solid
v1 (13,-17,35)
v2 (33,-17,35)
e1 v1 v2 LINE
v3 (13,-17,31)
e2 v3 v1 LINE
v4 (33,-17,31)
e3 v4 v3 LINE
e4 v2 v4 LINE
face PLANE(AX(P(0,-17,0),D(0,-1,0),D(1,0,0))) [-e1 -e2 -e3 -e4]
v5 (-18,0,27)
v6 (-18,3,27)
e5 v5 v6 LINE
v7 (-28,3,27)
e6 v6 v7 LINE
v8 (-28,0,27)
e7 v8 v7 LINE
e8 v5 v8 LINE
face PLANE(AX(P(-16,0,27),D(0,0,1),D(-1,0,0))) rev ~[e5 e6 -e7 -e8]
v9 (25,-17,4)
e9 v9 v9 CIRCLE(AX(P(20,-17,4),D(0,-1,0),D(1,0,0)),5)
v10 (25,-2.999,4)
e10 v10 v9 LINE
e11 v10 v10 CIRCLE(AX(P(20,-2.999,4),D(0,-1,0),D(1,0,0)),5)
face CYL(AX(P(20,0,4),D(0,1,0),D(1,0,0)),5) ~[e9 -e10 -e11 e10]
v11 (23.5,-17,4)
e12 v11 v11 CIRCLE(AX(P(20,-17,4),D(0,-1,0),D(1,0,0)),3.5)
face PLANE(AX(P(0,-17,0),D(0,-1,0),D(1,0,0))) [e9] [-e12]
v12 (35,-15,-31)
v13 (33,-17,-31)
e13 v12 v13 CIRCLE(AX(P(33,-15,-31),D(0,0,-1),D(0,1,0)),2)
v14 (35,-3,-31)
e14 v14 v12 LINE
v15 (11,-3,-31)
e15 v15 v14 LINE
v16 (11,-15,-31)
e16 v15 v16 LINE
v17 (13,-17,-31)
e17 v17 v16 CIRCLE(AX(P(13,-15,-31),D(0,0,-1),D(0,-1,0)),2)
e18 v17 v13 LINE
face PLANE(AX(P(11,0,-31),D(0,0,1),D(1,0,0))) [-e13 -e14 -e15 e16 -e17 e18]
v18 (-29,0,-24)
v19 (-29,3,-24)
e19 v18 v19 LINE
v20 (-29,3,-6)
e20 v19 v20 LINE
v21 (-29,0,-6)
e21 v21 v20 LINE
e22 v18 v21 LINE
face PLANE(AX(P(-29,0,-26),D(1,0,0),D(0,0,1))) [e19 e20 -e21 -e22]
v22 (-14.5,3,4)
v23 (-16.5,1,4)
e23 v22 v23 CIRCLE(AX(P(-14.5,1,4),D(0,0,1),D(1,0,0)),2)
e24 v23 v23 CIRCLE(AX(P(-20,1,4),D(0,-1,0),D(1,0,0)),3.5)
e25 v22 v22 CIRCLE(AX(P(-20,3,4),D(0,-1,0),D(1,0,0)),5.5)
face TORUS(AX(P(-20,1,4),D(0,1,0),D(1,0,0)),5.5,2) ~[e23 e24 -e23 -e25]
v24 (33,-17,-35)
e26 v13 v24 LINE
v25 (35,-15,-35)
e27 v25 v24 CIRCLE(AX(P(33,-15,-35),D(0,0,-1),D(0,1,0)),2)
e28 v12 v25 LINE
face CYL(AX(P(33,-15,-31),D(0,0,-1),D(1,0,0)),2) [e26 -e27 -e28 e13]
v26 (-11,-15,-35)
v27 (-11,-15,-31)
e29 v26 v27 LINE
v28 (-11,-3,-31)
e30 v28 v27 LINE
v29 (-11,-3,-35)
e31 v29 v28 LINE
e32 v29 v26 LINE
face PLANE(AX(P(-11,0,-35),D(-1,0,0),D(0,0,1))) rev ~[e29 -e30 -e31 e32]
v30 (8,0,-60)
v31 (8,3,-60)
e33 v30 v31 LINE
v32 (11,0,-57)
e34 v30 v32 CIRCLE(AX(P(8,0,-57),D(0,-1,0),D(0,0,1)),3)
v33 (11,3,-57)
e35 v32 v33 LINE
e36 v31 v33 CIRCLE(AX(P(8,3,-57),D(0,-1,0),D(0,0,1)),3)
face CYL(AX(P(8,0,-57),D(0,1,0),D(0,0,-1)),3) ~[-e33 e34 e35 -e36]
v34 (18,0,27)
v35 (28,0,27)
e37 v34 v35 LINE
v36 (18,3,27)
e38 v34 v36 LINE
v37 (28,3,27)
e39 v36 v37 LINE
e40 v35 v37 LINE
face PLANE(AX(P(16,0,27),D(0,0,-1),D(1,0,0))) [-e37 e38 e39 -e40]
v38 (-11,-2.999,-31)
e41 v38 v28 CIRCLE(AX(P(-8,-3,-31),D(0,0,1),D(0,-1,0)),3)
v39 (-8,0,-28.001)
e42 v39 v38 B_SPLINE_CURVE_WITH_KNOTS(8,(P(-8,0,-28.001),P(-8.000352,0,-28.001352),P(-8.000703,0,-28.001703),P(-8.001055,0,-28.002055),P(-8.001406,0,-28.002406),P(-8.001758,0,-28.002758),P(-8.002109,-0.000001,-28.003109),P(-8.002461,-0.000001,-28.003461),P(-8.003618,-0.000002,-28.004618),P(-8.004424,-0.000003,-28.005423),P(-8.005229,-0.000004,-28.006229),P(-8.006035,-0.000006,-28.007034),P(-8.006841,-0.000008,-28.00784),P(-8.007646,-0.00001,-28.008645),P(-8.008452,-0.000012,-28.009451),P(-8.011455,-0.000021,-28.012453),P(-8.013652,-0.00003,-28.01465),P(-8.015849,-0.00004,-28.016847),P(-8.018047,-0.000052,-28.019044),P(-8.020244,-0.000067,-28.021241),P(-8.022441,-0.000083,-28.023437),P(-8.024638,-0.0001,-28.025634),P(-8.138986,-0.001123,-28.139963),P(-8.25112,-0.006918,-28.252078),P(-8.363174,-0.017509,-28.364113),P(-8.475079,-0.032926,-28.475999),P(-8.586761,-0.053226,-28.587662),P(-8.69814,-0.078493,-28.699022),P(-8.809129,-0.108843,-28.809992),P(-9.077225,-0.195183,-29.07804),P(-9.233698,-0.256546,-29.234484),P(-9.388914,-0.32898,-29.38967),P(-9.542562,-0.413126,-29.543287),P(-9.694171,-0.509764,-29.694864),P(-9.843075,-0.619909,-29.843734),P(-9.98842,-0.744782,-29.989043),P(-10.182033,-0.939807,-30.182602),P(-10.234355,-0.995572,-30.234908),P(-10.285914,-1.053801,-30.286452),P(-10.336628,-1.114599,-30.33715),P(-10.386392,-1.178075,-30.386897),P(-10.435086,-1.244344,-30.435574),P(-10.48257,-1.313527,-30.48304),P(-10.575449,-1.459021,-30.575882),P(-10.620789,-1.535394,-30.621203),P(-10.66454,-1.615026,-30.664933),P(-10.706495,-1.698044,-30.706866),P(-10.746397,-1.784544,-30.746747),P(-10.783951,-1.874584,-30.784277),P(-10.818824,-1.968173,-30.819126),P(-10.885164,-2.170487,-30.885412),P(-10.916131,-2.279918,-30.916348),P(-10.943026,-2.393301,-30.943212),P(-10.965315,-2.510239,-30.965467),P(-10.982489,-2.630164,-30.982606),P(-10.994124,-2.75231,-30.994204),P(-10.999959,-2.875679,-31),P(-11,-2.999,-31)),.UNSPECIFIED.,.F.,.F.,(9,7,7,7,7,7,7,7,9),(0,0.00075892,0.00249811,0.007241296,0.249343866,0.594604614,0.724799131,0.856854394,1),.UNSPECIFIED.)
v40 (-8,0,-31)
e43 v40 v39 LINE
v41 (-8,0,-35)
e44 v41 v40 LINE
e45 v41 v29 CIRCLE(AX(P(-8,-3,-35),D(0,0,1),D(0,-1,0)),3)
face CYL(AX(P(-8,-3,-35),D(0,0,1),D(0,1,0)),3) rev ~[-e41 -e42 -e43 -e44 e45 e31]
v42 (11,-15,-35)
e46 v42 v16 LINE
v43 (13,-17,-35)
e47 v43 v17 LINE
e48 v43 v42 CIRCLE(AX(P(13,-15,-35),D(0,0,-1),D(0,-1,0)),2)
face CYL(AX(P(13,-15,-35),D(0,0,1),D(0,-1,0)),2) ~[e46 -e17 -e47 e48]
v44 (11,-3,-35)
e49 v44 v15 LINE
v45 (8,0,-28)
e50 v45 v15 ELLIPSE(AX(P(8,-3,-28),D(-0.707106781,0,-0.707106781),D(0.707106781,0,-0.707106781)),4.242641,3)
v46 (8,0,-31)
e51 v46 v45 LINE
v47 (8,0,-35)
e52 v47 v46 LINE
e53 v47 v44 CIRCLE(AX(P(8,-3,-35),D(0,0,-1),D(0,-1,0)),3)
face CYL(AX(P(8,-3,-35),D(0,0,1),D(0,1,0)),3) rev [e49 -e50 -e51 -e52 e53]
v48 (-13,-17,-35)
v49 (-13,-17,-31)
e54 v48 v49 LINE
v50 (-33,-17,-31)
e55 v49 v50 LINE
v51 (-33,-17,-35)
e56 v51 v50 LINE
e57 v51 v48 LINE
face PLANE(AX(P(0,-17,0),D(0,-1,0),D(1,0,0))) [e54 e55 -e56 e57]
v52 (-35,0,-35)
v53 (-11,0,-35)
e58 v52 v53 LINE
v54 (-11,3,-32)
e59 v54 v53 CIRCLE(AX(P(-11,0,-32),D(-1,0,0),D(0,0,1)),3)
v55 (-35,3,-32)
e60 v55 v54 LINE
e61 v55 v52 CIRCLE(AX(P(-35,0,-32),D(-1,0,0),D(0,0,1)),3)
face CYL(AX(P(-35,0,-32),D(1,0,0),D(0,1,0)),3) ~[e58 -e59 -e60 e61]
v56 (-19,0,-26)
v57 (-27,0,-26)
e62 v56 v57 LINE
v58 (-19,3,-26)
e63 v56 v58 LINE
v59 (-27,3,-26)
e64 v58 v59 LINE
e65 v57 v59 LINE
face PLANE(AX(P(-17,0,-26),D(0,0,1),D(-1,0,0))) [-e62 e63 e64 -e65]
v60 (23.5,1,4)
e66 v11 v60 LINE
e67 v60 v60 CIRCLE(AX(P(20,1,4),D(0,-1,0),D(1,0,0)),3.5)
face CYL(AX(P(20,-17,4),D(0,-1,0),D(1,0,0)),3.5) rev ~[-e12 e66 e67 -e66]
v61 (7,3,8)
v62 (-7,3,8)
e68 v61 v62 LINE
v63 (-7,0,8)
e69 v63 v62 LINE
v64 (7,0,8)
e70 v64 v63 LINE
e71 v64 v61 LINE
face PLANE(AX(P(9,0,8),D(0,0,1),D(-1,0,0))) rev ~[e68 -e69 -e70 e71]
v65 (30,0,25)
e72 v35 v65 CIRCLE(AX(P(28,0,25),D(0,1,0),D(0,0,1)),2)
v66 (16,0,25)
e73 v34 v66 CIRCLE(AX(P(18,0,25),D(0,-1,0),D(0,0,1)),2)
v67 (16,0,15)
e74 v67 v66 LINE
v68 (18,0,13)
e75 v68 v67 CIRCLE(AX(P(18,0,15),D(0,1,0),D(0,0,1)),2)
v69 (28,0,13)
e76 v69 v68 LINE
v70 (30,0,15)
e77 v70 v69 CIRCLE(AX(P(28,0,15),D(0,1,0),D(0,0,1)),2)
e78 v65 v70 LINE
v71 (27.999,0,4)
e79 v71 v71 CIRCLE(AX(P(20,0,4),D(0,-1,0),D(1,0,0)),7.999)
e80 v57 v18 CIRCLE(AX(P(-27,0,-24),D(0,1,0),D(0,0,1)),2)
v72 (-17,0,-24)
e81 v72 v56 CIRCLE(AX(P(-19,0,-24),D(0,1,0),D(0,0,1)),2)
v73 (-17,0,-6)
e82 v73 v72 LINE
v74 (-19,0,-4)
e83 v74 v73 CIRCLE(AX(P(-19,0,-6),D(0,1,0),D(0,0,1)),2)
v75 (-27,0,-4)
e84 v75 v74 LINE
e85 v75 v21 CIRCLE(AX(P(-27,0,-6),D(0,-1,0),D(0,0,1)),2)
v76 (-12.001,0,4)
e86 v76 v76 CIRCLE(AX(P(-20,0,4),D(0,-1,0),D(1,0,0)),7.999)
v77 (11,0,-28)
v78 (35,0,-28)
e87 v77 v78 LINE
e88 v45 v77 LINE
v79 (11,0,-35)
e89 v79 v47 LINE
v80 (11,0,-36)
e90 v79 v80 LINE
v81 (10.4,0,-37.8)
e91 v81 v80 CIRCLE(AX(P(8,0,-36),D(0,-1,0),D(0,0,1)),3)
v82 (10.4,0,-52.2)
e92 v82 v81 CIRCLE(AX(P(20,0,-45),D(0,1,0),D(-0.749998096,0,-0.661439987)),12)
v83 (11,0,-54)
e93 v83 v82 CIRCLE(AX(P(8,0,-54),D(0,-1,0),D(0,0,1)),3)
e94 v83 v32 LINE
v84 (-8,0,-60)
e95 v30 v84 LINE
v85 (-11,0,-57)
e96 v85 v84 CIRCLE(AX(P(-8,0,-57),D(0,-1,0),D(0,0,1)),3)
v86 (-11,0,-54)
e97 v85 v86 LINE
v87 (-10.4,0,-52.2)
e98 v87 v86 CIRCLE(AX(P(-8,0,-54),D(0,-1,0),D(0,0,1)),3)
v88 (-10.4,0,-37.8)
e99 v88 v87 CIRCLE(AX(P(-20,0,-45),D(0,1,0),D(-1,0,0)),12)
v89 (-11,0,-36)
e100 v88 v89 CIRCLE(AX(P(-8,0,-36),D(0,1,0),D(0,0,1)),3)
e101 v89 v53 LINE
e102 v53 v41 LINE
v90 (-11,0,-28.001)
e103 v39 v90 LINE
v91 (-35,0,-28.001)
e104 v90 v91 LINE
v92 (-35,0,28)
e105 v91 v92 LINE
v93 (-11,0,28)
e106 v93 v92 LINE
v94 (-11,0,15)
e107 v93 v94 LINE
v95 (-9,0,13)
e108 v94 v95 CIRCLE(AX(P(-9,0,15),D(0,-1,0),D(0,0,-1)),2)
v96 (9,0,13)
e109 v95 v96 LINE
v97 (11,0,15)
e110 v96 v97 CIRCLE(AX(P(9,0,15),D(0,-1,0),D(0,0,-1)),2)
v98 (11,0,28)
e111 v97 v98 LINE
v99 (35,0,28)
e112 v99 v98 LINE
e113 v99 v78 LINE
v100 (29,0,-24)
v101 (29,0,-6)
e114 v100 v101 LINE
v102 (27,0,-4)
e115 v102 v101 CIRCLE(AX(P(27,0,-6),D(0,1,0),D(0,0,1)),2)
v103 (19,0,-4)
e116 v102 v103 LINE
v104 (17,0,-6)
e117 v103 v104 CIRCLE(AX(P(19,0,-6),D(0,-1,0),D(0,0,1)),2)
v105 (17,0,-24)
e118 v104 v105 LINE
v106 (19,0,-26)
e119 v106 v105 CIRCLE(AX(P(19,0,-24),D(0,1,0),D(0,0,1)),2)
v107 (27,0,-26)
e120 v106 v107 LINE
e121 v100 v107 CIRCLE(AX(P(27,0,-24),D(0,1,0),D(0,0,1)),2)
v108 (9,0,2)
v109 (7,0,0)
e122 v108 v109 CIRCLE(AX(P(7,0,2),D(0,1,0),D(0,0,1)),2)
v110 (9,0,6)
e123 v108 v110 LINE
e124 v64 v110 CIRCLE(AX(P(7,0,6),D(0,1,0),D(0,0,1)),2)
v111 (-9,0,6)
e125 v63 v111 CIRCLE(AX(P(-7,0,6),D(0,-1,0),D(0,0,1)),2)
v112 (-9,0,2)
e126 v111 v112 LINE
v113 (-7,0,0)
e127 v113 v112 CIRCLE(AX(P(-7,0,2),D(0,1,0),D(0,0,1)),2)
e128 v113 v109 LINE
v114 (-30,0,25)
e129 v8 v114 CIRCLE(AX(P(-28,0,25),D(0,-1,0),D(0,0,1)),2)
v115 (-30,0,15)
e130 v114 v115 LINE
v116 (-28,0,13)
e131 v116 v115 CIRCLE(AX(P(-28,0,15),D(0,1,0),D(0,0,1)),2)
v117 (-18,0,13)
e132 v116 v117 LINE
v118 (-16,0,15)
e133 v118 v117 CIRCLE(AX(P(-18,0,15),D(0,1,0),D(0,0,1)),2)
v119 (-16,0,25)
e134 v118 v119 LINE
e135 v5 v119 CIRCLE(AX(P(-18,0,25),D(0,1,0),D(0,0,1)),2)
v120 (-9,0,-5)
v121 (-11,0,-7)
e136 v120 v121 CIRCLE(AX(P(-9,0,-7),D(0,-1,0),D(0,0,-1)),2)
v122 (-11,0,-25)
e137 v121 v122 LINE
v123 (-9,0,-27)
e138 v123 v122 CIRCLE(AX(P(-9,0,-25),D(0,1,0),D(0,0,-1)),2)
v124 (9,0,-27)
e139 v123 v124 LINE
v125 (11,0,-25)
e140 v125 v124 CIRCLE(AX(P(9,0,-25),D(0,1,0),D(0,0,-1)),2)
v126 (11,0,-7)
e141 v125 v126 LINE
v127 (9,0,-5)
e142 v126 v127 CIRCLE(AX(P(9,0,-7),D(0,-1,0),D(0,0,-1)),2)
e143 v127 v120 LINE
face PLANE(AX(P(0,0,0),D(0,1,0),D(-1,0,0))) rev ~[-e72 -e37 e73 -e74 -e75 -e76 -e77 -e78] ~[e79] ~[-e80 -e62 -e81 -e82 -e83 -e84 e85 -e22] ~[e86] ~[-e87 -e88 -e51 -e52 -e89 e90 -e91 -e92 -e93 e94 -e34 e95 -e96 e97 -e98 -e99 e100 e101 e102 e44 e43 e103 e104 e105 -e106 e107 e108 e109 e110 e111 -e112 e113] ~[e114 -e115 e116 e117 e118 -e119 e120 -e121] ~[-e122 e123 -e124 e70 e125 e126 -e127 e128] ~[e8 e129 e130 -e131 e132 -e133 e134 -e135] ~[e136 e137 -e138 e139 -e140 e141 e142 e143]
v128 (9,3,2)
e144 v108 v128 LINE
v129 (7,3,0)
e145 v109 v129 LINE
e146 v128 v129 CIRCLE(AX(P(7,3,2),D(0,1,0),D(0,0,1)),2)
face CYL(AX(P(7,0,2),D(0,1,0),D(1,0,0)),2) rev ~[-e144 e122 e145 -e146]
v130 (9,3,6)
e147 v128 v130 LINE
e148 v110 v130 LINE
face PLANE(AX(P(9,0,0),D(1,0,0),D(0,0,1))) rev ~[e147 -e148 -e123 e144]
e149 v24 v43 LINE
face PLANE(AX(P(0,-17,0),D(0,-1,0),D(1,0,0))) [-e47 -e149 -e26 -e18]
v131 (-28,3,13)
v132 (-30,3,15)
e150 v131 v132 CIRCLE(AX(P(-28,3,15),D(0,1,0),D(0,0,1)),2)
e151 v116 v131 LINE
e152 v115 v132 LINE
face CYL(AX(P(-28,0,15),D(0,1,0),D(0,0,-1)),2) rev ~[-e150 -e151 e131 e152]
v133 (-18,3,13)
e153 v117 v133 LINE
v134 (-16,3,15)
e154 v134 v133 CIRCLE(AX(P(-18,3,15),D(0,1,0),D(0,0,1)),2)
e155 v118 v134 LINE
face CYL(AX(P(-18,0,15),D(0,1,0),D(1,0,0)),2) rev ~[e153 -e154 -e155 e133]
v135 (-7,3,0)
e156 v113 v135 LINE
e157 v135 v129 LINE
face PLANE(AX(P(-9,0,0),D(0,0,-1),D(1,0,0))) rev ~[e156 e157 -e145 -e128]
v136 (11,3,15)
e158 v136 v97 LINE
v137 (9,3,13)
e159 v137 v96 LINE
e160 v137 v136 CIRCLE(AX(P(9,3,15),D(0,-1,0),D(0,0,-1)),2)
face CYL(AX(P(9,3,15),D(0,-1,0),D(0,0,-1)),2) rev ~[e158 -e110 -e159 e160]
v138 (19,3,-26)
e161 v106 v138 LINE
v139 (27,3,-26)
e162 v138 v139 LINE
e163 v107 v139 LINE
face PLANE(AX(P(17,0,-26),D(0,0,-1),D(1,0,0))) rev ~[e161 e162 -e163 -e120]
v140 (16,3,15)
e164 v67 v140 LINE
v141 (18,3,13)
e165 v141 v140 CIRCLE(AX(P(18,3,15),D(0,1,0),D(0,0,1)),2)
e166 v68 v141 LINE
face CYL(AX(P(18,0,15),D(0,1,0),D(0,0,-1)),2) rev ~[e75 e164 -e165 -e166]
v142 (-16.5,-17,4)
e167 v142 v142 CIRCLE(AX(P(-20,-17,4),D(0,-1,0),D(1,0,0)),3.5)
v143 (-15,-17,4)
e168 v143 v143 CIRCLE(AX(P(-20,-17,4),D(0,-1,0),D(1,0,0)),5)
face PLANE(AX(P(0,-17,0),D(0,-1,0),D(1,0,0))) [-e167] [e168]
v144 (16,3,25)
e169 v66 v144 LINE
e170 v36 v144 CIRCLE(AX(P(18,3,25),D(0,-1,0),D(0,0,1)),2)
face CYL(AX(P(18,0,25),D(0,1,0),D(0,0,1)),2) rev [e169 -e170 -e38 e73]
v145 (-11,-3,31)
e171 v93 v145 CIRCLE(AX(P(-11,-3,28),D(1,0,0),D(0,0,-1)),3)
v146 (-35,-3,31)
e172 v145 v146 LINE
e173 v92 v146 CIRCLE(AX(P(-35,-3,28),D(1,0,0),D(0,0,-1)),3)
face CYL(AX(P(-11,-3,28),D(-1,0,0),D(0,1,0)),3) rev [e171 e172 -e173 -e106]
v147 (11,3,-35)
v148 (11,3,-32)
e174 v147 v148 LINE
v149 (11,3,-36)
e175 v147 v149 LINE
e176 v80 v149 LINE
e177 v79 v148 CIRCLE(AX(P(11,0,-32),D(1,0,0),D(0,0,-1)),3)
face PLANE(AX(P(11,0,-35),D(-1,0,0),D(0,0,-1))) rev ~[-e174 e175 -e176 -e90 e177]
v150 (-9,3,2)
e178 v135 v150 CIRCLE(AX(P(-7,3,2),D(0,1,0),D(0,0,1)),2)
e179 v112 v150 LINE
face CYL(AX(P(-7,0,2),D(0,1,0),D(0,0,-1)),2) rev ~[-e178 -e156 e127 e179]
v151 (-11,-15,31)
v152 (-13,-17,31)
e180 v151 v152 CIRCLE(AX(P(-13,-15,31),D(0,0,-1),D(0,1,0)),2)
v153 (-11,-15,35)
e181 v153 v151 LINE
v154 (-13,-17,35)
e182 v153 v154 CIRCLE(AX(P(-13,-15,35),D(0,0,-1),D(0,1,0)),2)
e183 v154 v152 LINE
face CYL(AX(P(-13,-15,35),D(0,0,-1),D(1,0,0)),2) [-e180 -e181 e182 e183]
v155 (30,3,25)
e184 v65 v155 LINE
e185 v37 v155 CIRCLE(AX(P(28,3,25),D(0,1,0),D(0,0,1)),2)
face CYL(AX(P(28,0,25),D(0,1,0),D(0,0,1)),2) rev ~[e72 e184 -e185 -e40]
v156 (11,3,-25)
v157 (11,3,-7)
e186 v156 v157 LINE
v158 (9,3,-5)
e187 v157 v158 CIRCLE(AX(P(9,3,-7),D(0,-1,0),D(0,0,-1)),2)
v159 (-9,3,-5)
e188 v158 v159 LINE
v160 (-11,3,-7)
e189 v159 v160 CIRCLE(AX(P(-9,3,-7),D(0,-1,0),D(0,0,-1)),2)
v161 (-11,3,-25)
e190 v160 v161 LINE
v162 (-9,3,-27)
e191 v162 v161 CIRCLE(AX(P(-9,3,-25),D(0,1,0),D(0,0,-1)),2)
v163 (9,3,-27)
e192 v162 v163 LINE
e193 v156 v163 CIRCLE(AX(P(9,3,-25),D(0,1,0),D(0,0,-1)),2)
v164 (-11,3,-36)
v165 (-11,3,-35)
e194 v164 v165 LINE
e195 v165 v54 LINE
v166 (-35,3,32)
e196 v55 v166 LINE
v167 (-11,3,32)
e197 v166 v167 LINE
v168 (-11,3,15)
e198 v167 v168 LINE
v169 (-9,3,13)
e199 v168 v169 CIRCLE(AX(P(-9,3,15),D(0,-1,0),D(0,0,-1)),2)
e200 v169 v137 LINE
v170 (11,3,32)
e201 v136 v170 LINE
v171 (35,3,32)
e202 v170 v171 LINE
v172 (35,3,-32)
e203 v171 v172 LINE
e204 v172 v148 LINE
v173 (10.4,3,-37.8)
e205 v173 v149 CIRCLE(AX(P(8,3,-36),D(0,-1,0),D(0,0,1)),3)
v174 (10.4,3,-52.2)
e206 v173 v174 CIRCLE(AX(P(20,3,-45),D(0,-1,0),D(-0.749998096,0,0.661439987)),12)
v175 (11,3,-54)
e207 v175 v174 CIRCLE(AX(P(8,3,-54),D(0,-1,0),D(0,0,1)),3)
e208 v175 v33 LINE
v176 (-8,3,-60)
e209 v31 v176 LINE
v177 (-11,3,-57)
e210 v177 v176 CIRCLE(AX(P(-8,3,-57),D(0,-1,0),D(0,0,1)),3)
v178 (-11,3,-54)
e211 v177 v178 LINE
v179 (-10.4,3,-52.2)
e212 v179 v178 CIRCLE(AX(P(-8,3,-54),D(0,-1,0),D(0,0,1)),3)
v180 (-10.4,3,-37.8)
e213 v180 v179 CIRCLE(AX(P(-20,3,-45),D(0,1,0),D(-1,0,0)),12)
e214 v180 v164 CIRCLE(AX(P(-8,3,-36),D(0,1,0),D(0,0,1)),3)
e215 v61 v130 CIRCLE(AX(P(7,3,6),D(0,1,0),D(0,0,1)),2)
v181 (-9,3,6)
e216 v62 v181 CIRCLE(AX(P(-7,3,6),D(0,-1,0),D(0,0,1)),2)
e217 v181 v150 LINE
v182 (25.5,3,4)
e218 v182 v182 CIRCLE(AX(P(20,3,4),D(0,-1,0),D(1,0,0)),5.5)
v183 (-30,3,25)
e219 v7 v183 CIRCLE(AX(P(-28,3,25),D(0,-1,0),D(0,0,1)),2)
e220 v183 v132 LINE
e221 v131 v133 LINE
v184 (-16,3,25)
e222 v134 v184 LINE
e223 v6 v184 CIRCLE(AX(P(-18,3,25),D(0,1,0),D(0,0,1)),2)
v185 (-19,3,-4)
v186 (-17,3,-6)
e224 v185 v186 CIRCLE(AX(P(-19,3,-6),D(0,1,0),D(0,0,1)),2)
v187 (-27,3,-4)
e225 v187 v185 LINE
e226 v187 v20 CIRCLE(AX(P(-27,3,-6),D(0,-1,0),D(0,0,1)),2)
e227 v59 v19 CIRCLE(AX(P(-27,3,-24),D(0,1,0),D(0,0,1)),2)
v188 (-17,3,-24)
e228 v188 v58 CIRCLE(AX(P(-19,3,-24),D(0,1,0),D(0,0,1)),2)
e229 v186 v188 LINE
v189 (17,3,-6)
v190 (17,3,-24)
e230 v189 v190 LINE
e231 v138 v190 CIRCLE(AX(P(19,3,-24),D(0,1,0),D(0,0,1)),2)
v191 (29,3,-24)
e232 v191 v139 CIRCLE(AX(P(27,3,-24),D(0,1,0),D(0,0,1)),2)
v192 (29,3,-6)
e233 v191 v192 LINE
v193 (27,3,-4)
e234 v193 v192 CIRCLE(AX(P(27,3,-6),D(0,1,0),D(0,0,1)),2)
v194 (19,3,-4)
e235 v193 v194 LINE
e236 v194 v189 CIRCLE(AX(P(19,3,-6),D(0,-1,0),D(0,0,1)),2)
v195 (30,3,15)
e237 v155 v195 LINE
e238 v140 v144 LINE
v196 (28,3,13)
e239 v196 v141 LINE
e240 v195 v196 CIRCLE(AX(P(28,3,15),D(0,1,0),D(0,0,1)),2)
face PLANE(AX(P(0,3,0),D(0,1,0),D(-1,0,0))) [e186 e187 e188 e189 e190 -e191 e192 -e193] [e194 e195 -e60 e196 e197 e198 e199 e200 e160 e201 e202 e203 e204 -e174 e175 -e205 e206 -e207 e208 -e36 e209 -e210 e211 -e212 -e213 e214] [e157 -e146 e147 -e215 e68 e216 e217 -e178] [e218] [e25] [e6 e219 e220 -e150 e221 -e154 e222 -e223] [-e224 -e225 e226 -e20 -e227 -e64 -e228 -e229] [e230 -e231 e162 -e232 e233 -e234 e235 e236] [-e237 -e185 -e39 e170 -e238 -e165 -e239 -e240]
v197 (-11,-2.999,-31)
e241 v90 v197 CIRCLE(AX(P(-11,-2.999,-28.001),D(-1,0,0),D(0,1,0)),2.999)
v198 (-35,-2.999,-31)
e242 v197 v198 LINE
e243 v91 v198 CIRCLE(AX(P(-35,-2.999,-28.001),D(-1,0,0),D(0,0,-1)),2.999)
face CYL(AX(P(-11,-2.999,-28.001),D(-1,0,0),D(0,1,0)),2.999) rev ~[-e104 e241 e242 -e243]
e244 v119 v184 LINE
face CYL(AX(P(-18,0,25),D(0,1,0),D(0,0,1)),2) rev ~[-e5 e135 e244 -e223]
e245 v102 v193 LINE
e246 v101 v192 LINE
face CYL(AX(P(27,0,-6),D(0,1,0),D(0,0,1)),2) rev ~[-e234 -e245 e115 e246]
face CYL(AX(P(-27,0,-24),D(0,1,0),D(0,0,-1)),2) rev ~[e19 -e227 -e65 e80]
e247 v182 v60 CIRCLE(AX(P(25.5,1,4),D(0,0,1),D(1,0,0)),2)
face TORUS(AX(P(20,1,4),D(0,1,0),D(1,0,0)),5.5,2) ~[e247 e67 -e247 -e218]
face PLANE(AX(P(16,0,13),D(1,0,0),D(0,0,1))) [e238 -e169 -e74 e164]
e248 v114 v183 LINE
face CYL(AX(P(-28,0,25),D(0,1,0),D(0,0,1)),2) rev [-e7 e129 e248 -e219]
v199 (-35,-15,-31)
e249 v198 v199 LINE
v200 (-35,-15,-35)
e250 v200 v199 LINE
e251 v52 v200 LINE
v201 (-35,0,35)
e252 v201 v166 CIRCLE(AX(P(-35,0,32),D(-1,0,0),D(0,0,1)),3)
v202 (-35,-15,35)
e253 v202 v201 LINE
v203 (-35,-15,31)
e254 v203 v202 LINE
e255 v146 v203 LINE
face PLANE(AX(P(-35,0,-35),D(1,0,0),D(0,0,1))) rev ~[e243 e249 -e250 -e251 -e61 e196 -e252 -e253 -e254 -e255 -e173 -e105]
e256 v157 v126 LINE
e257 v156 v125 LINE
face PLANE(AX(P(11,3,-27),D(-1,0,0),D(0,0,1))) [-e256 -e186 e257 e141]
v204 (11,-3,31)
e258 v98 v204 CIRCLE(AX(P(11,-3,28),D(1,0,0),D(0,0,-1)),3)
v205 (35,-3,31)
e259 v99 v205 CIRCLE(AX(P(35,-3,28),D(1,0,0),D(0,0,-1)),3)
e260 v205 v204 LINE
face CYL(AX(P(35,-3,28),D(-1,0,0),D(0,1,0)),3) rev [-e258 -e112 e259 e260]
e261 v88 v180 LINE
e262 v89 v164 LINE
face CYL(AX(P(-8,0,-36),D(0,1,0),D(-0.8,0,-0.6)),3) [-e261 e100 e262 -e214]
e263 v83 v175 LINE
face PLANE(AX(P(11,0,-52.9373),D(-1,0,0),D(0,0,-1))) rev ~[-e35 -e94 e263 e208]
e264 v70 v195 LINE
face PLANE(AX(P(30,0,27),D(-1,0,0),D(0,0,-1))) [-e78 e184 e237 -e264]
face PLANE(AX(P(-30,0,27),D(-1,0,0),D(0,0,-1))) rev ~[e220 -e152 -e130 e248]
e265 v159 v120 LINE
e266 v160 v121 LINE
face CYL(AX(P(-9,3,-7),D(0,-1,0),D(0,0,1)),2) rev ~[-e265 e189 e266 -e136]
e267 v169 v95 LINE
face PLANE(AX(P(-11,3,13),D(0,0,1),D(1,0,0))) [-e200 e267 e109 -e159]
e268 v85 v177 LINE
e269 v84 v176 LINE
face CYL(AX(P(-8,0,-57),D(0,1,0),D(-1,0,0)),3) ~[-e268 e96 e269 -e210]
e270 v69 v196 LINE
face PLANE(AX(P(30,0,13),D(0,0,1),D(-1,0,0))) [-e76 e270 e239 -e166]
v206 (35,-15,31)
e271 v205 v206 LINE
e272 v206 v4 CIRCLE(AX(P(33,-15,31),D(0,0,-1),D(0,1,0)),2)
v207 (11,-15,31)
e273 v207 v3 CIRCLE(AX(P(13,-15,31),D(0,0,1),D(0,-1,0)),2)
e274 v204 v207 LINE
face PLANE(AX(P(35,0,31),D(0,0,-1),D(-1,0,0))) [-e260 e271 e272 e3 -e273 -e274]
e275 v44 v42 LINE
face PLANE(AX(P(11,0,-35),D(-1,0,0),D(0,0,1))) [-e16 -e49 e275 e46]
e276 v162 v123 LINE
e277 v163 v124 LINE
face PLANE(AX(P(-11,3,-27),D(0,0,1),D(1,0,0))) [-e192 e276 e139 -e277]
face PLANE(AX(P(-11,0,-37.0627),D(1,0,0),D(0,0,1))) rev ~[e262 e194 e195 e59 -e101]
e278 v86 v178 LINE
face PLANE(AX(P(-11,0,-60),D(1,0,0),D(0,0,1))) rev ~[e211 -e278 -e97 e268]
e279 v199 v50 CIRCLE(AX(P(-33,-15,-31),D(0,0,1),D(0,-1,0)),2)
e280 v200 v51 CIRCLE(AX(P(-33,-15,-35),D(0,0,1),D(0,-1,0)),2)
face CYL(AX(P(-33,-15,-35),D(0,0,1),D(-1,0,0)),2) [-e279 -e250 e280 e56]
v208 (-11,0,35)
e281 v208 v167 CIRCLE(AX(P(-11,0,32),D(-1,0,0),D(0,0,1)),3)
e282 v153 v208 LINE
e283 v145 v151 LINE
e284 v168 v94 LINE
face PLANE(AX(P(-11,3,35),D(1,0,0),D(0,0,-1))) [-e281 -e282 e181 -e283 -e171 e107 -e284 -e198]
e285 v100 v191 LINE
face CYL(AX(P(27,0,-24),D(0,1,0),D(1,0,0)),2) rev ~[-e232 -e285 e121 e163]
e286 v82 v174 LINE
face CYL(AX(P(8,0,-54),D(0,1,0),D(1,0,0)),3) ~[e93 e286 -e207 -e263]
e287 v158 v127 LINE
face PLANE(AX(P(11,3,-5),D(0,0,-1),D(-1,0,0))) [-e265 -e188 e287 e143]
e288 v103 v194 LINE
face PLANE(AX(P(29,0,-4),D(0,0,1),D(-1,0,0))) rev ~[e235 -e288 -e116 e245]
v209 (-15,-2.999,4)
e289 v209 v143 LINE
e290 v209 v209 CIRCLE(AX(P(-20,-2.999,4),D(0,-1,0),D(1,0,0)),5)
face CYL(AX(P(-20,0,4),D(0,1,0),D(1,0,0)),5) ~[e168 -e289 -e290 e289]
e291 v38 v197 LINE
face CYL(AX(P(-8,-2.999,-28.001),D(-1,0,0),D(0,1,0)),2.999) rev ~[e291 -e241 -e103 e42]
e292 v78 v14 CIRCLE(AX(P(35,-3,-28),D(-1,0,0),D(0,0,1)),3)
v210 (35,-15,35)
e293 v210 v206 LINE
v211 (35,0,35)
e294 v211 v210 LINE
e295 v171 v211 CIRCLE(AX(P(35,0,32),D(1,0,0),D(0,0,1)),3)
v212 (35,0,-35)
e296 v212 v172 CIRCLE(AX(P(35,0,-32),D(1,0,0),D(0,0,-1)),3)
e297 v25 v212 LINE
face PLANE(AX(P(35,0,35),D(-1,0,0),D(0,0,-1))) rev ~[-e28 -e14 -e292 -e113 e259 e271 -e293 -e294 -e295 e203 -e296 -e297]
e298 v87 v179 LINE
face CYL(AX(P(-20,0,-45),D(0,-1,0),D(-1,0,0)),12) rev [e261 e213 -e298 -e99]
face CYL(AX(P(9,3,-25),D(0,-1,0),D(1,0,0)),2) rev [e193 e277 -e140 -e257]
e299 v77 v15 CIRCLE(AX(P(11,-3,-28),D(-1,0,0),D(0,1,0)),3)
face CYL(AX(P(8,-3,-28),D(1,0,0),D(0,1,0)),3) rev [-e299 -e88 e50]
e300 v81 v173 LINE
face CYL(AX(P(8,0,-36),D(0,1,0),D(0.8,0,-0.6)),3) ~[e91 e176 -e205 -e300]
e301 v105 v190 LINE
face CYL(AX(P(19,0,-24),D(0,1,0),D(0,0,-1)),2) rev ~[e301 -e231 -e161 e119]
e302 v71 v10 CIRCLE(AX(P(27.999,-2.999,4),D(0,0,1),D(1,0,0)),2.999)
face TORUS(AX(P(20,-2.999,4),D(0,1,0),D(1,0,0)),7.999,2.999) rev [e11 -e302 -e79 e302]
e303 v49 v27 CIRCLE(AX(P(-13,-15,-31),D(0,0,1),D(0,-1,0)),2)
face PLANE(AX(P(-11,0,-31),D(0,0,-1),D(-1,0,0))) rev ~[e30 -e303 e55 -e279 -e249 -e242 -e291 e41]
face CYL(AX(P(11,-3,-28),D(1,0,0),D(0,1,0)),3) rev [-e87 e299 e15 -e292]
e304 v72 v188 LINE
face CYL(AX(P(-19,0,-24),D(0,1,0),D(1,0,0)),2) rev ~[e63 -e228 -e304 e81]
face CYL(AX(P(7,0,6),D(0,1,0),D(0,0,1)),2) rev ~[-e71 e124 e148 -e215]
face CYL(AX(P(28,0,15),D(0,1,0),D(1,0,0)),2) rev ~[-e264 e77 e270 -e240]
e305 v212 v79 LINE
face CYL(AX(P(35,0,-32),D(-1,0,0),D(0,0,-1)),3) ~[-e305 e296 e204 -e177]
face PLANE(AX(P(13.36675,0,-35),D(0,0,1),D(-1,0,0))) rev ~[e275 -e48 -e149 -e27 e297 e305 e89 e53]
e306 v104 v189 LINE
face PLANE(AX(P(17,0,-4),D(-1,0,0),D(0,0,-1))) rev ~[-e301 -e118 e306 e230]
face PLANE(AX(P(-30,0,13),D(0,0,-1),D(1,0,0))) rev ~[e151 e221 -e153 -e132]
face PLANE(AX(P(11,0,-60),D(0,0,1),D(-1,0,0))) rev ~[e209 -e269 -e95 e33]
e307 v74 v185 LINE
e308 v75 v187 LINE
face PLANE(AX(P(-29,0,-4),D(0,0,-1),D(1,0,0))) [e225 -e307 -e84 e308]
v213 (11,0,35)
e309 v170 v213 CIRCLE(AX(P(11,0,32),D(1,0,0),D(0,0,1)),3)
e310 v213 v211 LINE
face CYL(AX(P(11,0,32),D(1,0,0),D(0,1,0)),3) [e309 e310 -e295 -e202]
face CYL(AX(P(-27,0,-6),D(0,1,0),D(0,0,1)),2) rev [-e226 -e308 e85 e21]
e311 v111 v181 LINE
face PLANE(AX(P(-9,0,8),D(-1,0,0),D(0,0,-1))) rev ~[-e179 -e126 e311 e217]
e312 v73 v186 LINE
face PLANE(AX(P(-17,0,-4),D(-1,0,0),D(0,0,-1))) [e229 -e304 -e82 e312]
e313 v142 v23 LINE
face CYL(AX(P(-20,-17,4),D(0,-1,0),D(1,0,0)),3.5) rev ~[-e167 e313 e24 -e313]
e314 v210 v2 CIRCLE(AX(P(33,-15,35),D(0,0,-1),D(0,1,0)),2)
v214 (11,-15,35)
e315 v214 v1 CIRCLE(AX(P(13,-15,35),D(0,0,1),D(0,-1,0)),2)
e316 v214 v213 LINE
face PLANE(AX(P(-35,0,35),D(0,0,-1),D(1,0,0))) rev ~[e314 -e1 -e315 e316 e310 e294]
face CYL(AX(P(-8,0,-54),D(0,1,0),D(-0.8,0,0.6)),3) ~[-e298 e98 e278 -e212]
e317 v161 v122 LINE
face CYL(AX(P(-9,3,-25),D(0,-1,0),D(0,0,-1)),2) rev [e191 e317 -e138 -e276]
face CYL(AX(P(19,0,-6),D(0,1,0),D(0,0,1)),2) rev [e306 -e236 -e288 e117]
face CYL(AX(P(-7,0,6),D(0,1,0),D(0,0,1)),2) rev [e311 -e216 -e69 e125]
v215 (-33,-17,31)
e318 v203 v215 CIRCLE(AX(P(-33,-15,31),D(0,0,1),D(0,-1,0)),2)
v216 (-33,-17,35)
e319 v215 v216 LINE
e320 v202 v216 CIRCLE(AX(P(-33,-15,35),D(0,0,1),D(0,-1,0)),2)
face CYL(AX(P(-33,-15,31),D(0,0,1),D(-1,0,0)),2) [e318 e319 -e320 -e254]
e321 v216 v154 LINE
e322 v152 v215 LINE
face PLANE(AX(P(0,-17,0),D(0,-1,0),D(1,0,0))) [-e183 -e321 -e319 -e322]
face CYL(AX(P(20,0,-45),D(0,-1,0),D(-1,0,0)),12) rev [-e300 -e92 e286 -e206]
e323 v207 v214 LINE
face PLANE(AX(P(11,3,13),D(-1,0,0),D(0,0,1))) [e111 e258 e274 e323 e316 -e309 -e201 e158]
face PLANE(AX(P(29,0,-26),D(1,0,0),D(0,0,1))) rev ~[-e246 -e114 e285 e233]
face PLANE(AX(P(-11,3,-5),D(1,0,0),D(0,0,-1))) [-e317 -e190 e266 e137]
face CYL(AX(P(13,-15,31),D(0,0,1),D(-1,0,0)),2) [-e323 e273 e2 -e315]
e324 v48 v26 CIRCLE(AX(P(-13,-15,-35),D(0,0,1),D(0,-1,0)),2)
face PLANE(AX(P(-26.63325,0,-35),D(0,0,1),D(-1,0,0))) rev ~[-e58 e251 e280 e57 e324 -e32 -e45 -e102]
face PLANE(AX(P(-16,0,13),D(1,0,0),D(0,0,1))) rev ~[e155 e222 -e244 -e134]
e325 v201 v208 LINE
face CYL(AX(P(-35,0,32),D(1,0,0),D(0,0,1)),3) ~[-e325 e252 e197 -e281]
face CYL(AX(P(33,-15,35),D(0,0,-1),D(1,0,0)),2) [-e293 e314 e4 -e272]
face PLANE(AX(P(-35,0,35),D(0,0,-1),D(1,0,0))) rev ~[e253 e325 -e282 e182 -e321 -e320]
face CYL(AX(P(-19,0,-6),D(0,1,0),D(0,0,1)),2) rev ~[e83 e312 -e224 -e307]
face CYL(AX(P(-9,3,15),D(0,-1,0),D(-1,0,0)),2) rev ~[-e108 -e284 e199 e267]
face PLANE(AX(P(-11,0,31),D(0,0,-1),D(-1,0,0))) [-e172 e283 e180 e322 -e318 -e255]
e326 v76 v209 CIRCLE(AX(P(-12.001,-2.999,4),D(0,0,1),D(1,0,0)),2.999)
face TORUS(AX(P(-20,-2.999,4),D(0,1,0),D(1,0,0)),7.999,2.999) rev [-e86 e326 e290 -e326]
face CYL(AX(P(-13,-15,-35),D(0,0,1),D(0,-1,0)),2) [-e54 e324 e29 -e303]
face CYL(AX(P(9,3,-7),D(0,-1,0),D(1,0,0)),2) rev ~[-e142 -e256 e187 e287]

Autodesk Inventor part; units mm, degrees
ref_plane "YZ Plane" through (0, 0, 0) normal (1, 0, 0) x (0, 1, 0)
ref_plane "XZ Plane" through (0, 0, 0) normal (0, 1, 0) x (-1, 0, 0)
ref_plane "XY Plane" through (0, 0, 0) normal (0, 0, 1) x (1, 0, 0)
sketch "Sketch1" plane through (0, 0, 0) normal (0, 1, 0) x (-1, 0, 0)
  line L0 (35, 35) -> (-35, 35)
  line L1 (-35, 35) -> (-35, -35)
  line L2 (-35, -35) -> (35, -35)
  line L3 (35, -35) -> (35, 35)
  line L4 (35, 35) -> (-35, -35) construction
  line L5 (-35, 35) -> (35, -35) construction
  line L6 (11, -35) -> (-11, -35)
  line L7 (-11, -35) -> (-11, -37.0627)
  line L8 (-11, -60) -> (11, -60)
  line L9 (11, -60) -> (11, -52.9373)
  line L10 (11, -35) -> (-11, -60) construction
  line L11 (-11, -35) -> (11, -60) construction
  circle A0 centre (-20, -45) radius 12
  circle A1 centre (20, -45) radius 12
  line L12 (-11, -37.0627) -> (-11, -52.9373)
  line L13 (-11, -52.9373) -> (-11, -60)
  line L14 (0, -47.5) -> (0, -35) construction
  line L15 (11, -37.0627) -> (11, -35)
  line L16 (11, -52.9373) -> (11, -37.0627)
  point P0 (0, 0)
  point P1 (0, -47.5)
  point P2 (0, 0)
  dimension "d0" = 70
  dimension "d1" = 70
  dimension "d58" = 22
  dimension "d59" = 25
  dimension "d64" = 24
  dimension "d66" = 24
  dimension "d68" = 10
  dimension "d69" = 10
  dimension "d70" = 20
  dimension "d71" = 20
extrude "Extrusion1" add sketch "Sketch1" along normal blind 3 contours L3 L2 A1 A0 L1 L0 | L2 A1 | A0 L2 | A0 L7 L2 L15 A1 L9 L8 L13
sketch "Sketch2" plane through (0, 3, 0) normal (0, 1, 0) x (1, 0, 0)
  line L0 (-11, -13) -> (11, -13)
  line L1 (11, -13) -> (11, -35)
  line L2 (11, -35) -> (-11, -35)
  line L3 (-11, -35) -> (-11, -13)
  line L4 (-11, -13) -> (11, -35) construction
  line L5 (11, -13) -> (-11, -35) construction
  line L6 (-35, -35) -> (35, -35) projected
  point P0 (0, 0)
  point P1 (0, -24)
  point P2 (0, -24)
  dimension "d4" = 22
  dimension "d5" = 22
extrude "Extrusion2" cut sketch "Sketch2" against normal blind 20
sketch "Sketch3" plane through (0, 3, 0) normal (0, 1, 0) x (1, 0, 0)
  line L0 (11, 5) -> (-11, 5)
  line L1 (-11, 5) -> (-11, 27)
  line L2 (-11, 27) -> (11, 27)
  line L3 (11, 27) -> (11, 5)
  line L4 (11, 5) -> (-11, 27) construction
  line L5 (-11, 5) -> (11, 27) construction
  line L6 (35, 35) -> (-35, 35) projected
  point P0 (0, 0)
  point P1 (0, 16)
  point P2 (0, 16)
  dimension "d9" = 22
  dimension "d52" = 8
extrude "Extrusion3" cut sketch "Sketch3" against normal blind 20
sketch "Sketch4" plane through (0, 0, 0) normal (0, -1, 0) x (1, 0, 0)
  line L0 (-35, -35) -> (-35, 35) projected
  line L1 (-11, 35) -> (-11, 13) projected
  line L2 (11, 13) -> (11, 35) projected
  line L3 (35, 35) -> (35, -35) projected
  line L4 (-11, -5) -> (-11, -27) projected
  line L5 (-11, 13) -> (11, 13) construction
  line L6 (0, 13) -> (0, -5) construction
  line L7 (-11, -5) -> (11, -5) construction
  line L8 (-35, 4) -> (35, 4) construction
  circle A0 centre (-20, 4) radius 5
  circle A1 centre (20, 4) radius 5
  line L9 (-35, 35) -> (-11, 35)
  line L10 (-11, 35) -> (-11, 31)
  line L11 (-11, 31) -> (-35, 31)
  line L12 (-35, 31) -> (-35, 35)
  line L13 (11, 35) -> (11, 13) projected
  line L14 (11, 35) -> (35, 35)
  line L15 (35, 35) -> (35, 31)
  line L16 (35, 31) -> (11, 31)
  line L17 (11, 31) -> (11, 35)
  line L18 (35, -35) -> (11, -35)
  line L19 (11, -35) -> (11, -31)
  line L20 (11, -31) -> (35, -31)
  line L21 (35, -31) -> (35, -35)
  line L22 (-35, -35) -> (-11, -35)
  line L23 (-11, -35) -> (-11, -31)
  line L24 (-11, -31) -> (-35, -31)
  line L25 (-35, -31) -> (-35, -35)
  point P0 (0, 0)
  dimension "d18" = 4
  dimension "d19" = 10
  dimension "d20" = 10
  dimension "d21" = 15
  dimension "d22" = 15
  dimension "d54" = 4
  dimension "d55" = 4
  dimension "d60" = 24
  dimension "d61" = 4
  dimension "d62" = 24
  dimension "d63" = 4
extrude "Extrusion4" add sketch "Sketch4" along normal blind 17
sketch "Sketch7" plane through (20, -17, 4) normal (0, -1, 0) x (1, 0, 0)
  circle A0 centre (0, 0) radius 5 projected
  circle A1 centre (0, 0) radius 3.5
  circle A2 centre (-40, 0) radius 5 projected
  circle A3 centre (-40, 0) radius 3.5
  point P0 (-20, -4)
  dimension "d31" = 7
  dimension "d32" = 7
extrude "Extrusion6" cut sketch "Sketch7" against normal blind 20 contours A1 | A3
sketch "Sketch8" plane through (0, 0, 0) normal (0, -1, 0) x (1, 0, 0)
  line L0 (-35, 35) -> (-11, 35) construction
  line L1 (35, -35) -> (-35, -35) construction
  line L2 (35, -35) -> (-35, -35) construction
  line L3 (11, 35) -> (35, 35) construction
  line L4 (-29, -4) -> (-17, -4)
  line L5 (-17, -4) -> (-17, -26)
  line L6 (-17, -26) -> (-29, -26)
  line L7 (-29, -26) -> (-29, -4)
  line L8 (-29, -4) -> (-17, -26) construction
  line L9 (-17, -4) -> (-29, -26) construction
  line L10 (17, -26) -> (29, -26)
  line L11 (29, -26) -> (29, -4)
  line L12 (29, -4) -> (17, -4)
  line L13 (17, -4) -> (17, -26)
  line L14 (17, -26) -> (29, -4) construction
  line L15 (29, -26) -> (17, -4) construction
  line L16 (-30, 13) -> (-16, 13)
  line L17 (-16, 13) -> (-16, 27)
  line L18 (-16, 27) -> (-30, 27)
  line L19 (-30, 27) -> (-30, 13)
  line L20 (-30, 13) -> (-16, 27) construction
  line L21 (-16, 13) -> (-30, 27) construction
  line L22 (16, 27) -> (30, 27)
  line L23 (30, 27) -> (30, 13)
  line L24 (30, 13) -> (16, 13)
  line L25 (16, 13) -> (16, 27)
  line L26 (16, 27) -> (30, 13) construction
  line L27 (30, 27) -> (16, 13) construction
  circle A0 centre (20, 4) radius 3.5 projected
  circle A1 centre (-20, 4) radius 3.5 projected
  line L28 (20, 4) -> (-20, 4) construction
  line L29 (-9, 0) -> (9, 0)
  line L30 (9, 0) -> (9, 8)
  line L31 (9, 8) -> (-9, 8)
  line L32 (-9, 8) -> (-9, 0)
  line L33 (-9, 0) -> (9, 8) construction
  line L34 (9, 0) -> (-9, 8) construction
  line L35 (23, 35) -> (23, -35) construction
  line L36 (-23, 35) -> (-23, -35) construction
  point P0 (0, 0)
  point P1 (-23, -15)
  point P2 (23, -15)
  point P3 (-23, 20)
  point P4 (23, 20)
  point P5 (0, 4)
  point P6 (-23, 20)
  point P7 (-23, 20)
  point P8 (-23, -15)
  point P9 (23, -15)
  point P10 (23, 20)
  dimension "d35" = 12
  dimension "d36" = 22
  dimension "d37" = 12
  dimension "d38" = 22
  dimension "d39" = 20
  dimension "d40" = 20
  dimension "d41" = 14
  dimension "d42" = 14
  dimension "d43" = 14
  dimension "d44" = 14
  dimension "d45" = 15
  dimension "d46" = 15
  dimension "d56" = 18
  dimension "d57" = 8
extrude "Extrusion7" cut sketch "Sketch8" against normal blind 3 contours L4 L5 L6 L7 | L13 L12 L11 L10 | L19 L18 L17 L16 | L22 L23 L24 L25 | L32 L31 L30 L29
fillet "Fillet2" radius 3 19 edges at (-25, 0, 4) (15, 0, 4) (23, 3, 35) (-23, 3, 35) (-23, 0, 31) (23, 0, 31) (11, 1.5, -35) (-23, 3, -35) (23, 3, -35) (-23, 0, -31) (23, 0, -31) (11, 1.5, -60) (-11, 1.5, -60) (-11, 1.5, -52.9373) (-11, 1.5, -37.0627) (11, 1.5, -37.0627) (11, 1.5, -52.9373) (-11, 0, -33) (11, 0, -33)
fillet "Fillet3" radius 2 36 edges at (29, 1.5, -26) (17, 1.5, -26) (29, 1.5, -4) (17, 1.5, -4) (16, 1.5, 27) (30, 1.5, 27) (16, 1.5, 13) (30, 1.5, 13) (-30, 1.5, 13) (-30, 1.5, 27) (-16, 1.5, 27) (-16, 1.5, 13) (-17, 1.5, -26) (-17, 1.5, -4) (-29, 1.5, -4) (-29, 1.5, -26) (-11, 1.5, -5) (11, 1.5, -5) (11, 1.5, 13) (-11, 1.5, 13) (16.5, 3, 4) (-23.5, 3, 4) (11, 1.5, -27) (-11, 1.5, -27) (-9, 1.5, 8) (-9, 1.5, 0) (9, 1.5, 0) (9, 1.5, 8) (-11, -17, 33) (-35, -17, 33) (11, -17, 33) (35, -17, 33) (11, -17, -33) (-35, -17, -33) (-11, -17, -33) (35, -17, -33)
equation "\"d55\" = d54"
equation "\"d40\" = d39"
equation "\"d46\" = d45"
properties part number "Robot_Stand"
